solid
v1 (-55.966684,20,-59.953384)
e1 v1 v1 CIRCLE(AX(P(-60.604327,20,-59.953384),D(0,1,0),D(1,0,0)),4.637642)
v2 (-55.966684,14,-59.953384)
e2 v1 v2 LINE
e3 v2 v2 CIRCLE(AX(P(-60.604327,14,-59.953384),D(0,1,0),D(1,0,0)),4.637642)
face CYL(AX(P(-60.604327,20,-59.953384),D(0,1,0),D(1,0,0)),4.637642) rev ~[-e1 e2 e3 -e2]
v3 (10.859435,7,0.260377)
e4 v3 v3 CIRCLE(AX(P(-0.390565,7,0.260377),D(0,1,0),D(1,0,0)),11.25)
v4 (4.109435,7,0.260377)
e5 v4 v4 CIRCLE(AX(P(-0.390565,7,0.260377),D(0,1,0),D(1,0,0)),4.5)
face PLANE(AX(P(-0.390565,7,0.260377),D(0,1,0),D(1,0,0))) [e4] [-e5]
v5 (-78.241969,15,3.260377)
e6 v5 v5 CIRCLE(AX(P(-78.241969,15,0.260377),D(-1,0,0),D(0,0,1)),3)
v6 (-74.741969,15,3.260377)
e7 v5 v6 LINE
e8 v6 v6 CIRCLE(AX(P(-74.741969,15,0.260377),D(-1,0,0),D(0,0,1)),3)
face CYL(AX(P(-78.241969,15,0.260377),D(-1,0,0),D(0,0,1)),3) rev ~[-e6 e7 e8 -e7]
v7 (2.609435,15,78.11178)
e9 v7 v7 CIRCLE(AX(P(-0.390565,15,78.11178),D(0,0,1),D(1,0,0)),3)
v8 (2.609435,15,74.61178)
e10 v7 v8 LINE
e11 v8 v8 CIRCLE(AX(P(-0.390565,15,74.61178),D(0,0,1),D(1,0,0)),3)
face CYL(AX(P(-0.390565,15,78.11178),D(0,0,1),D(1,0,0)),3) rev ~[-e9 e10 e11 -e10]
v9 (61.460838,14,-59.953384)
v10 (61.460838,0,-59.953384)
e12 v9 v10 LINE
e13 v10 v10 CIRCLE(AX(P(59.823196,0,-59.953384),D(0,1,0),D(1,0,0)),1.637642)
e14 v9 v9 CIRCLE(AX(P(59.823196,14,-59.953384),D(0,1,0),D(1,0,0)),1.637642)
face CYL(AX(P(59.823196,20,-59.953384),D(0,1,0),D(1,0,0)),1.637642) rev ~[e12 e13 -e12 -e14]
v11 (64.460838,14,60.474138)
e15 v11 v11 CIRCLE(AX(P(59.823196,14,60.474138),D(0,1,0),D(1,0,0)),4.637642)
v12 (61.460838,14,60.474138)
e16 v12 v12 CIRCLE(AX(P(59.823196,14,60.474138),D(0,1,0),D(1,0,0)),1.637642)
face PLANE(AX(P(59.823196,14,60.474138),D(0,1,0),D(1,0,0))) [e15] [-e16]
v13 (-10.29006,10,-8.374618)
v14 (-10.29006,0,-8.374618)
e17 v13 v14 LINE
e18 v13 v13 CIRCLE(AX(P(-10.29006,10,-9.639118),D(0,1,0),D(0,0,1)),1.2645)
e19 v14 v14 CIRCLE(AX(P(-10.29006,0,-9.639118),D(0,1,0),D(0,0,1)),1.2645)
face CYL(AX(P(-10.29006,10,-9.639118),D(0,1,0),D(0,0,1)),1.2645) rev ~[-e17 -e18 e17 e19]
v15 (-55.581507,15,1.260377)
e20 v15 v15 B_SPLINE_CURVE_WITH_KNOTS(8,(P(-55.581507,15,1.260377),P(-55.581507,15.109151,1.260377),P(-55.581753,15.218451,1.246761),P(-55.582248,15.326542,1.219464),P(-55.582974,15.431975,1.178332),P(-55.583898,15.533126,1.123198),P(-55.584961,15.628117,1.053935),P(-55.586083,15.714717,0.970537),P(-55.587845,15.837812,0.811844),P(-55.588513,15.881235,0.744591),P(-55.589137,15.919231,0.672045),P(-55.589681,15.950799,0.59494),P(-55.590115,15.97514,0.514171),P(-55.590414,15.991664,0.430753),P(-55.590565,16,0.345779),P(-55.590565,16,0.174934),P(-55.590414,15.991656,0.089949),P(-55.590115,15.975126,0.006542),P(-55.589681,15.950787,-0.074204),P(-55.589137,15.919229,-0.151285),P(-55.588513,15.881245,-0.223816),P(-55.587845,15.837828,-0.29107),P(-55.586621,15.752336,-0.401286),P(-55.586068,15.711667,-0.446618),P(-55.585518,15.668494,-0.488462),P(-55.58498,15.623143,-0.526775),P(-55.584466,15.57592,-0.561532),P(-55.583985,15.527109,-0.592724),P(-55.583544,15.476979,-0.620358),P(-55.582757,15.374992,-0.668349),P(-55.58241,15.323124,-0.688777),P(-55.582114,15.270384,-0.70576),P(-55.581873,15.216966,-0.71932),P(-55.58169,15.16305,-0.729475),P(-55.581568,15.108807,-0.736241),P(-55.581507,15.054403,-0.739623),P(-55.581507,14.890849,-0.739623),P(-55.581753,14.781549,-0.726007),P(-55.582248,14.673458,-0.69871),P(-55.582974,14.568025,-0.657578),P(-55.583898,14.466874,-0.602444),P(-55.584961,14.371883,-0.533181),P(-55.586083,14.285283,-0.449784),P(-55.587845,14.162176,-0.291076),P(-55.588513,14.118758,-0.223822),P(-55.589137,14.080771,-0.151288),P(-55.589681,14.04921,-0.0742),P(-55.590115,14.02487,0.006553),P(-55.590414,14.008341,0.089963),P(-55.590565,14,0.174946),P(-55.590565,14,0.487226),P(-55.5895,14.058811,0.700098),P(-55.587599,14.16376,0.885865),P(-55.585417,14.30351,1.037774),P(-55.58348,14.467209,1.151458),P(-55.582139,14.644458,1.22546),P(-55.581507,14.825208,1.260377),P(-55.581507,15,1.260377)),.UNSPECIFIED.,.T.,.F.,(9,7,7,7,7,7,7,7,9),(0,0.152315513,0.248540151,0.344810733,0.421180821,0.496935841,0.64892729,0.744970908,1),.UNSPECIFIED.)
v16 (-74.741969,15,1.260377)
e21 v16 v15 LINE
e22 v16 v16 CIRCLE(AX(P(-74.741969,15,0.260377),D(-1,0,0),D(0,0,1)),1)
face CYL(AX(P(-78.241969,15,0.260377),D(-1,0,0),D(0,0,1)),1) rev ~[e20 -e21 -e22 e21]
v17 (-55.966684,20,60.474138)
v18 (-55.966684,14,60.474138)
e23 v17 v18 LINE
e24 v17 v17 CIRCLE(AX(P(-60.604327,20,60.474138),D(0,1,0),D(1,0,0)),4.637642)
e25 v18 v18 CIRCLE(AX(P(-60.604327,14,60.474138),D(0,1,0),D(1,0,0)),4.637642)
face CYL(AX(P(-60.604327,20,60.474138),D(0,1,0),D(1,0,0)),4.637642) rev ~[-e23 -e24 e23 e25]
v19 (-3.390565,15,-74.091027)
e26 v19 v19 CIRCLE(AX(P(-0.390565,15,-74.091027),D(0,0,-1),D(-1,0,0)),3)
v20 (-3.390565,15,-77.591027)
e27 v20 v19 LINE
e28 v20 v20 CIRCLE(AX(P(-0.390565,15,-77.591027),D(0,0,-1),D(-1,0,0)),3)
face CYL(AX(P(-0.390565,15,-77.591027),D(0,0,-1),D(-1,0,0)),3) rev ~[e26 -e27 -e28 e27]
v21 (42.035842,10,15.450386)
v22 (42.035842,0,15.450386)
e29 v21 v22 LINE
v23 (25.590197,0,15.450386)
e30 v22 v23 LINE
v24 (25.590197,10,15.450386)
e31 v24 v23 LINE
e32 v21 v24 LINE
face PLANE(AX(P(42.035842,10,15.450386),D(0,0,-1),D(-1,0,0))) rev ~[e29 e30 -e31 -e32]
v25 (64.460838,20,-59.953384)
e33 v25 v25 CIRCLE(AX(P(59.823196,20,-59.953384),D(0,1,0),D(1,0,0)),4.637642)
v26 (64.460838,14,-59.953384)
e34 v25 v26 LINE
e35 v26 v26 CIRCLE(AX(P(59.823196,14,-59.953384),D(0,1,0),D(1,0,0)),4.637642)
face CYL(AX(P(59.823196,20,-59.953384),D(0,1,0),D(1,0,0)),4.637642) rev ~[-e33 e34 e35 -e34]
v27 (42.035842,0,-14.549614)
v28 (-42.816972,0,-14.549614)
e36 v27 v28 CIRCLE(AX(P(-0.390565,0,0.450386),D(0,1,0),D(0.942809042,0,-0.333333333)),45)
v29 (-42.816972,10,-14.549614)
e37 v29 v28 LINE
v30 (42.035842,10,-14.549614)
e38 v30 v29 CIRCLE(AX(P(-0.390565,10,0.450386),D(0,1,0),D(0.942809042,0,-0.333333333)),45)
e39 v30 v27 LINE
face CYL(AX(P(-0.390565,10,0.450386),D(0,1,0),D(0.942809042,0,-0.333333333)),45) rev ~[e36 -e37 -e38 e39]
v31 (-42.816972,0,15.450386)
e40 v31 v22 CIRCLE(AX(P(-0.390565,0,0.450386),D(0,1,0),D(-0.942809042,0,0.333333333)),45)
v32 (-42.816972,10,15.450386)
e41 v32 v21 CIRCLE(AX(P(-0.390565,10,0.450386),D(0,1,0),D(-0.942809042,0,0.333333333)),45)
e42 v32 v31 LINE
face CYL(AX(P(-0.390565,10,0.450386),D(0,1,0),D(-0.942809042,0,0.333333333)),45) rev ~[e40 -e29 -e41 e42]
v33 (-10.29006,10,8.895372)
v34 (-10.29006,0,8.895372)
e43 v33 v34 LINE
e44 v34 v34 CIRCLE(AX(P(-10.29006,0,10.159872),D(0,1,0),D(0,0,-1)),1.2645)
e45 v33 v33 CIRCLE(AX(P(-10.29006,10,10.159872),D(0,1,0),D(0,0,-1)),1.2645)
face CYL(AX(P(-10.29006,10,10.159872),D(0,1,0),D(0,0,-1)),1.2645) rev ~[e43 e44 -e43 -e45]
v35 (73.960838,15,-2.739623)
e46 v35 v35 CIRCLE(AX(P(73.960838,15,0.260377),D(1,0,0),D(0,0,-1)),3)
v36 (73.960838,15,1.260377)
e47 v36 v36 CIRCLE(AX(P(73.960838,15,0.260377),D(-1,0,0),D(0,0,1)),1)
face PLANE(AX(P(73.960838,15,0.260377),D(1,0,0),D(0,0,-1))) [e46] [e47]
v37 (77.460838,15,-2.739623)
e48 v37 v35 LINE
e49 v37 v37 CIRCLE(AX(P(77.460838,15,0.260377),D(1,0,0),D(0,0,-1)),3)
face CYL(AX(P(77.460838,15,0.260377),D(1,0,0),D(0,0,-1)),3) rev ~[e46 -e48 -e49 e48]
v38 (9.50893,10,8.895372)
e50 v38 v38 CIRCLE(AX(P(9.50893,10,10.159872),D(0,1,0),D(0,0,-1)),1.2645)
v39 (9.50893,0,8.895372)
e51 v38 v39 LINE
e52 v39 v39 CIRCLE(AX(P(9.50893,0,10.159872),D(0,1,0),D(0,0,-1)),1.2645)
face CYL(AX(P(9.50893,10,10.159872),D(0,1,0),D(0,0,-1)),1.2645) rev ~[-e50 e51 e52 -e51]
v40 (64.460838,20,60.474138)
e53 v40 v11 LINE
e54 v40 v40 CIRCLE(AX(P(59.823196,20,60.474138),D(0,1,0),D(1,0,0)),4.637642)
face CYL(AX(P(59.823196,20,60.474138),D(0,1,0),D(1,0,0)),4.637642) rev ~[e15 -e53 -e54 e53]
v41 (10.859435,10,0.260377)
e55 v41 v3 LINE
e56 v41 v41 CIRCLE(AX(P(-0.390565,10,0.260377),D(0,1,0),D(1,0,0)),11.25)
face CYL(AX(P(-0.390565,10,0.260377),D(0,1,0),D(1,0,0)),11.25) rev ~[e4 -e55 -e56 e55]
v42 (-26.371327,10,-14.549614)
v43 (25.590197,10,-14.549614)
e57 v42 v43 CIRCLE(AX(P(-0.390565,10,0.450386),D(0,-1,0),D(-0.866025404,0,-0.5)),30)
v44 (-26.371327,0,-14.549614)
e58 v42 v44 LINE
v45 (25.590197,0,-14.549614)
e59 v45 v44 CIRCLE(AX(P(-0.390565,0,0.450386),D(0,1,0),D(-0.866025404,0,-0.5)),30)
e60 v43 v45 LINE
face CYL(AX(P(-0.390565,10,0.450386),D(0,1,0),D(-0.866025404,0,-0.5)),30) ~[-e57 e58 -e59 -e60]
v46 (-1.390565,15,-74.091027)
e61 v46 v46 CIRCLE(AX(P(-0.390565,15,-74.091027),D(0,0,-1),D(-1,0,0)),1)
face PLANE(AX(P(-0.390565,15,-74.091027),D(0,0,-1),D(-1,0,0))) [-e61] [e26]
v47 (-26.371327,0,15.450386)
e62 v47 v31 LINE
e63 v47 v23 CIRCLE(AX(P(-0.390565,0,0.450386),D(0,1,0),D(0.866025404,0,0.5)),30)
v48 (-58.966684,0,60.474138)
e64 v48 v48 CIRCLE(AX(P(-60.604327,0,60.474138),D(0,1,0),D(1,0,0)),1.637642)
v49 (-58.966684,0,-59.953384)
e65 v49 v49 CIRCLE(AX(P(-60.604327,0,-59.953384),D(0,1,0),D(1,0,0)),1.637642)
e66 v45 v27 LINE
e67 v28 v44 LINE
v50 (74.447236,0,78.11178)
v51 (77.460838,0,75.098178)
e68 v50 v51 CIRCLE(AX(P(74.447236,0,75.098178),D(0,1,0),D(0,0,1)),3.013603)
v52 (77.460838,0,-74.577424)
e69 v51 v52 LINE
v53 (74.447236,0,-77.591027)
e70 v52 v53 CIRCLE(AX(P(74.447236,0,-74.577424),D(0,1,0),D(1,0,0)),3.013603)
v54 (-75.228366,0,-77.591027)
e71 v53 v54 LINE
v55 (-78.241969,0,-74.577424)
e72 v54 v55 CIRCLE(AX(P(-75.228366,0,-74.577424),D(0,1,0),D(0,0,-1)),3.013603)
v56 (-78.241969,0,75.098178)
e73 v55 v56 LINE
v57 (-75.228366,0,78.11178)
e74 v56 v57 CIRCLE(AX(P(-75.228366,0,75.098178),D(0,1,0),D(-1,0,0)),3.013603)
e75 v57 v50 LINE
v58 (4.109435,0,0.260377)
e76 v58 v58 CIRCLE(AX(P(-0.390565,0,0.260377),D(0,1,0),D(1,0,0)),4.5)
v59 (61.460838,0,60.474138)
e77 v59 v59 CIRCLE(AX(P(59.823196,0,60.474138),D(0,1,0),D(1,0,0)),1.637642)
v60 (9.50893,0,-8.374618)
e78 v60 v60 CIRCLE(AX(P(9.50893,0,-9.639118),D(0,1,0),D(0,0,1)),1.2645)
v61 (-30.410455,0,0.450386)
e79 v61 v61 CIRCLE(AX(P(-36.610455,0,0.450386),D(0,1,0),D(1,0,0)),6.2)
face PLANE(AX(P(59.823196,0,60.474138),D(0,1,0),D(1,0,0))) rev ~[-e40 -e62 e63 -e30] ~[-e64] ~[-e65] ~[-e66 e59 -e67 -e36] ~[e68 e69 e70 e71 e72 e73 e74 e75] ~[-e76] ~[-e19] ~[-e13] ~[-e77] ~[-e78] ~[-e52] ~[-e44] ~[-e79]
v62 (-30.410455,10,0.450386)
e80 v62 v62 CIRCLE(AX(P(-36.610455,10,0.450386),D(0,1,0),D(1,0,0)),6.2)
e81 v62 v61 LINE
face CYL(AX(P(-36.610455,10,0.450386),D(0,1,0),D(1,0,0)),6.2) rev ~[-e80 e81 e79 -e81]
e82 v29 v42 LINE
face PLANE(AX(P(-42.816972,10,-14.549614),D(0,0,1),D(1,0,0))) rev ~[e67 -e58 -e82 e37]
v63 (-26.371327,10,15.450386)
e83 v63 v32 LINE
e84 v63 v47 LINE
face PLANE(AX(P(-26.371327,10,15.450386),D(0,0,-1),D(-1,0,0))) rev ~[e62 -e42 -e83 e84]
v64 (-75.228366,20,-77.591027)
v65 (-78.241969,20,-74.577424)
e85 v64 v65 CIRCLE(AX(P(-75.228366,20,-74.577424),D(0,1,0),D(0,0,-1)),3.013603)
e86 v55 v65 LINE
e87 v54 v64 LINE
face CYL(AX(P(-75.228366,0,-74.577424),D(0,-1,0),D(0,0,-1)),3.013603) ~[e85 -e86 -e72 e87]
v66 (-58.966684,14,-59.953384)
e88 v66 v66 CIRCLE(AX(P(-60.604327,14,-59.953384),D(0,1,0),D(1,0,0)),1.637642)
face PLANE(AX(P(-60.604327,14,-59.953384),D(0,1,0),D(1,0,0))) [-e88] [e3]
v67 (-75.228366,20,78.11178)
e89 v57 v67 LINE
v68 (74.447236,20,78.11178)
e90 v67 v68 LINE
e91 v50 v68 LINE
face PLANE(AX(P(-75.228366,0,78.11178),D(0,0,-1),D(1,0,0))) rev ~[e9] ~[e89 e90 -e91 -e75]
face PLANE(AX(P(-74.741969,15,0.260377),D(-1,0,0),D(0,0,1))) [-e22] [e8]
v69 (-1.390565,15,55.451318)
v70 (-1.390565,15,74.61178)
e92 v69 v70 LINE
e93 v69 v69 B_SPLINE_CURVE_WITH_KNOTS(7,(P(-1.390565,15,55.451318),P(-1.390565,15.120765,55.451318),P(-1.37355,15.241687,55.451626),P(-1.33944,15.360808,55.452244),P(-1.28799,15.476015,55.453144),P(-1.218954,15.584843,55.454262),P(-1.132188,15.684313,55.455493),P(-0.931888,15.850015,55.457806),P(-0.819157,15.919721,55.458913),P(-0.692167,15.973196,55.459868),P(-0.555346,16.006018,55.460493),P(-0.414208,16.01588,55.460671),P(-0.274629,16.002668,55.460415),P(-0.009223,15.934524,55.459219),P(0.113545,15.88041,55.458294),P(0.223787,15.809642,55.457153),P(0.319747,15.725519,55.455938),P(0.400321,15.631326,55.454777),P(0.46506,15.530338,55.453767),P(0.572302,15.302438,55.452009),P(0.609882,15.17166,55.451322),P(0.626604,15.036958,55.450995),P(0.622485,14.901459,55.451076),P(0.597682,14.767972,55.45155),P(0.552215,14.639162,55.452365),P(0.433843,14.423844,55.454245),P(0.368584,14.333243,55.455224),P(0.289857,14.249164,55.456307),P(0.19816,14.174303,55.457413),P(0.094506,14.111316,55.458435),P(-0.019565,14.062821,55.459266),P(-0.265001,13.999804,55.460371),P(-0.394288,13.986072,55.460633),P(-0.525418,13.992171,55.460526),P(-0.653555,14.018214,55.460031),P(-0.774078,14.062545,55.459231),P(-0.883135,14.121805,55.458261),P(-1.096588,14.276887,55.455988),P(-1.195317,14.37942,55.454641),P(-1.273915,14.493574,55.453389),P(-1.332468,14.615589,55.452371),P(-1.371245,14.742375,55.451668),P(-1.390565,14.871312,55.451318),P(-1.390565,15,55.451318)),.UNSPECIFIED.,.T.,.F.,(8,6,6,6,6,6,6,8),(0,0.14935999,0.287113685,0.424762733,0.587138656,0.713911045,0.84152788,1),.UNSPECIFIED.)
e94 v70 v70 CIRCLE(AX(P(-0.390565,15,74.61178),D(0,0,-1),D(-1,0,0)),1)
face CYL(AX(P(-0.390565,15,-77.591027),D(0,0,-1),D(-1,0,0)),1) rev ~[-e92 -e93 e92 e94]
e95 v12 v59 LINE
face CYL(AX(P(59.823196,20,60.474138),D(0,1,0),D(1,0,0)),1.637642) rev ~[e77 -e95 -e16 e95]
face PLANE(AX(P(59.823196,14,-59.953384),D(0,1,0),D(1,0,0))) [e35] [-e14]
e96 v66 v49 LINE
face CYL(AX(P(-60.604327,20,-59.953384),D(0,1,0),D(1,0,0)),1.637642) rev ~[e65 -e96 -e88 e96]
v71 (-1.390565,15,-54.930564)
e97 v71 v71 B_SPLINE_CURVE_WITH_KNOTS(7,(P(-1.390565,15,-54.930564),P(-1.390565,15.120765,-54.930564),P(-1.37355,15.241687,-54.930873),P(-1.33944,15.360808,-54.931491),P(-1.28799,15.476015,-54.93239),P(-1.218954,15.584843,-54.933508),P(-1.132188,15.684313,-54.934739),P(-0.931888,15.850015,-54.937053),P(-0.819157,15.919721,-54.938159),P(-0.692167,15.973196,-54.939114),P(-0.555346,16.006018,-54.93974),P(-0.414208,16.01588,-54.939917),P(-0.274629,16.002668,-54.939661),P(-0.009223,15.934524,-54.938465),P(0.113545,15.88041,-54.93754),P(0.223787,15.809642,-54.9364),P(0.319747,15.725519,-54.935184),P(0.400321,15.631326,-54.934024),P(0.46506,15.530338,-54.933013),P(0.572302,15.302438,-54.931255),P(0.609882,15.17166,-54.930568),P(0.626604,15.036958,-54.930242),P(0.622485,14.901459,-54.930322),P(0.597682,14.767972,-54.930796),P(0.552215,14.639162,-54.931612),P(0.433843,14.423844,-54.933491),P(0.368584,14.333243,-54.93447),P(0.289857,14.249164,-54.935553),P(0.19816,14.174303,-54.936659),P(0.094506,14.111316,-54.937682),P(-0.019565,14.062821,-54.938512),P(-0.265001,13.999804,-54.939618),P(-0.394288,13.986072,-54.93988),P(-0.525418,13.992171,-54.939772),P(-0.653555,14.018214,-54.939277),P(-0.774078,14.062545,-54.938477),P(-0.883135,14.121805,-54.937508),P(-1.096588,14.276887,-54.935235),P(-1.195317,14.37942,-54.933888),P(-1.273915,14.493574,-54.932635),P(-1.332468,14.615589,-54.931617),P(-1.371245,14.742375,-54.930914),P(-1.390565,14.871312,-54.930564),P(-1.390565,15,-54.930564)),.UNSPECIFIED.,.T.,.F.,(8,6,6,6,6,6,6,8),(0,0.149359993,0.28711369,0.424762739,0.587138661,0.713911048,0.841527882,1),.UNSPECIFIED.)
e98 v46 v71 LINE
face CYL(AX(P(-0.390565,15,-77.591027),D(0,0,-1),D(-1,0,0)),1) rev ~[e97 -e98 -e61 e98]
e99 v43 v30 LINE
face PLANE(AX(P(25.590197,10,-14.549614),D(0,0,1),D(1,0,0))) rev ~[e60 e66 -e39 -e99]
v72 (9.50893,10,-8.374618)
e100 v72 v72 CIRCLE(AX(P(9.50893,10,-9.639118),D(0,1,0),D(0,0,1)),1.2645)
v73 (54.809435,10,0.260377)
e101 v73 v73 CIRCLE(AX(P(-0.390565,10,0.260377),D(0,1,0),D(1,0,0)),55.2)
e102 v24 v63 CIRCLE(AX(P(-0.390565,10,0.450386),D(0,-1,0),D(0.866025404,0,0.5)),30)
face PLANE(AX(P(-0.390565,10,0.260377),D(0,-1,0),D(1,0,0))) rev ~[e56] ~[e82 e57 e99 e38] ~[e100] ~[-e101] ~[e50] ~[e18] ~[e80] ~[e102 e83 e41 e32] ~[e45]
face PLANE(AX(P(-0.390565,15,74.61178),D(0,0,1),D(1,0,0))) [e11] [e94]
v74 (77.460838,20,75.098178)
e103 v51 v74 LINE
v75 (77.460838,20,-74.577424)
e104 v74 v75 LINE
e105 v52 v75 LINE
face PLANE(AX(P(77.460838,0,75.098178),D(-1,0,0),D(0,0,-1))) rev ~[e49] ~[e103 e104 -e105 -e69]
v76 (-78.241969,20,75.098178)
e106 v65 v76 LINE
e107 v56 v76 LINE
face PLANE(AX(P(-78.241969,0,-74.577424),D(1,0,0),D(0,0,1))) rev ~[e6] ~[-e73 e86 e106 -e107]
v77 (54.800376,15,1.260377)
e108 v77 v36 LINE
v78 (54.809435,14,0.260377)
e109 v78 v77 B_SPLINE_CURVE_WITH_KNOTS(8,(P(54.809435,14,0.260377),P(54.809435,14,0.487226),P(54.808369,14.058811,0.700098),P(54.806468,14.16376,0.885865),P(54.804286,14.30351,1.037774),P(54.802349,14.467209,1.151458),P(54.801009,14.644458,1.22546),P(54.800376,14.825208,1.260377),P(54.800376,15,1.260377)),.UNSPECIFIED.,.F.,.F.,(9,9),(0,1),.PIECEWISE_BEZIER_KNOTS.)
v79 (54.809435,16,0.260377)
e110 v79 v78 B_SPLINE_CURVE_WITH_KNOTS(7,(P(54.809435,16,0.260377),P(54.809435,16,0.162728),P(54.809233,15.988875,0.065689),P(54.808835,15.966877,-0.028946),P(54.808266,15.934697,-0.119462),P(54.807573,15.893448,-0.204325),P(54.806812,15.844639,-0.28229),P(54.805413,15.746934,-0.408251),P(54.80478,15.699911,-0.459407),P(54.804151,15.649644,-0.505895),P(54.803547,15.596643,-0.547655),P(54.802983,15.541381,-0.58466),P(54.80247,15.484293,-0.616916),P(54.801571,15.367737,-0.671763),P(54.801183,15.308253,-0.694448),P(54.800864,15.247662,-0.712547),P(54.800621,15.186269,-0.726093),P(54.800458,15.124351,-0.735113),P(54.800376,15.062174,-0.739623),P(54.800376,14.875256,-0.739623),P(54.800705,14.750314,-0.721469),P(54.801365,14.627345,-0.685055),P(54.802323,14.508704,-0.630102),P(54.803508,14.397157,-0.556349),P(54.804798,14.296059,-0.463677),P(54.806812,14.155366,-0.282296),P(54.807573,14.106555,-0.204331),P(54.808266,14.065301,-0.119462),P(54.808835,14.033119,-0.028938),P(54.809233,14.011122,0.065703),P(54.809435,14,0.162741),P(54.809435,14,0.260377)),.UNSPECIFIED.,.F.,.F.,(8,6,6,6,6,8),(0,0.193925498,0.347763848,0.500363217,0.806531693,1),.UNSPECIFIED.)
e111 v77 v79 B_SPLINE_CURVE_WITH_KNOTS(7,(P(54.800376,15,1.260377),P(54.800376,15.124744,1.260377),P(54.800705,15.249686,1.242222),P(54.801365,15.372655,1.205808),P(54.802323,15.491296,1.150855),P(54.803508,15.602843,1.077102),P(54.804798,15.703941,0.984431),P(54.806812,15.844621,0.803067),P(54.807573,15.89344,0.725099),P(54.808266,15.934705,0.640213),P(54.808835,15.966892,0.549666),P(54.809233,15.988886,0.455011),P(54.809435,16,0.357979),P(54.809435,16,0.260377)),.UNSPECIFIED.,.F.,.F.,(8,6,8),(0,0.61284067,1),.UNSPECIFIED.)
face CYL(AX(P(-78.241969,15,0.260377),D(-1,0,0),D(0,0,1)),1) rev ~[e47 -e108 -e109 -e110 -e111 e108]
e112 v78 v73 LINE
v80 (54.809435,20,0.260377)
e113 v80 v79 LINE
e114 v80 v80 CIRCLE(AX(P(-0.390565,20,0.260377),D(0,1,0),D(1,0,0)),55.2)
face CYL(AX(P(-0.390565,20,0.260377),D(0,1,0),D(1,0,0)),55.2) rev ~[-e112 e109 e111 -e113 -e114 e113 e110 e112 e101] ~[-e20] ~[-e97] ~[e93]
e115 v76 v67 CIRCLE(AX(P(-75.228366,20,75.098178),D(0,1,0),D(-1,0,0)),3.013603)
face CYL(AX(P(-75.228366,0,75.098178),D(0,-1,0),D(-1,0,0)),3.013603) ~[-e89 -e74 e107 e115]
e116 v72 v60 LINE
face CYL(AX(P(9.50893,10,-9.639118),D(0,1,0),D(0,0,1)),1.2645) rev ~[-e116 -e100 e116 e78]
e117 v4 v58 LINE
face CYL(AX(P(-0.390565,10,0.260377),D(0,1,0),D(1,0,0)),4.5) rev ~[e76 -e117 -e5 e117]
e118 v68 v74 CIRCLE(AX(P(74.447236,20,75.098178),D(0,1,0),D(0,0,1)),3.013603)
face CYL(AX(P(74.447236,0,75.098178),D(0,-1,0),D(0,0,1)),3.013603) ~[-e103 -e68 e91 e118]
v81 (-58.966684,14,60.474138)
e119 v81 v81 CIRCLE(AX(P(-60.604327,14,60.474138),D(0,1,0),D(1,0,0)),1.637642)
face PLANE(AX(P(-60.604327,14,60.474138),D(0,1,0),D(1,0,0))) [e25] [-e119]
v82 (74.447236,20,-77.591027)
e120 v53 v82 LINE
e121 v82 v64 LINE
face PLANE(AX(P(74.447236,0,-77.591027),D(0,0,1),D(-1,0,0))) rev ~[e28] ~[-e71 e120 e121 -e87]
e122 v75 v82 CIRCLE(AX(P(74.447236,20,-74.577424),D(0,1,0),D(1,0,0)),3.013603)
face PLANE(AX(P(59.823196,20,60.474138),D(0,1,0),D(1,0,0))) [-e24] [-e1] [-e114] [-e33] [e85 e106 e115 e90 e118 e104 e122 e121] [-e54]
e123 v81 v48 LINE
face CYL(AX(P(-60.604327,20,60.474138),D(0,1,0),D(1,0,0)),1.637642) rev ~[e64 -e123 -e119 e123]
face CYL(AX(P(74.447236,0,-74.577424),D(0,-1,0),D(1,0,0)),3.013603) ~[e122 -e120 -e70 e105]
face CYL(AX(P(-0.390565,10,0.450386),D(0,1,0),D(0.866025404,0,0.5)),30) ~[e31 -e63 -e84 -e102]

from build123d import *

# Parameters (mm, degrees)
SKETCH1_R           = 2.637642313
SKETCH1_R_2         = 73
BOSS_EXTRUDE1_DEPTH = 20
SKETCH7_R           = 73
SKETCH7_R_2         = 52.25
BOSS_EXTRUDE2_DEPTH = 10
SKETCH8_R           = 73
BOSS_EXTRUDE3_DEPTH = 10
SKETCH9_R           = 11.25
CUT_EXTRUDE1_DEPTH  = 3
SKETCH10_R          = 4.5
CUT_EXTRUDE2_DEPTH  = 89
SKETCH11_R          = 55.2
SKETCH11_R_2        = 52.25
CUT_EXTRUDE3_DEPTH  = 10
SKETCH12_R          = 1
CUT_EXTRUDE4_DEPTH  = 224
SKETCH13_R          = 1
CUT_EXTRUDE5_DEPTH  = 224
SKETCH14_R          = 2.637642313
SKETCH14_R_2        = 1.637642313
BOSS_EXTRUDE4_DEPTH = 20
SKETCH16_R          = 4.637642313
SKETCH16_R_2        = 1.637642313
CUT_EXTRUDE7_DEPTH  = 6
CUT_EXTRUDE11_DEPTH = 15.5
SKETCH19_R          = 6.2
CUT_EXTRUDE12_DEPTH = 144
SKETCH20_R          = 3
SKETCH20_R_2        = 1
CUT_EXTRUDE13_DEPTH = 3.5
SKETCH21_R          = 3
CUT_EXTRUDE14_DEPTH = 3.5
SKETCH22_R          = 3
SKETCH22_R_2        = 1
CUT_EXTRUDE15_DEPTH = 3.5
SKETCH23_R          = 3
CUT_EXTRUDE16_DEPTH = 3.5


with BuildPart() as part:
    # Sketch1 → Boss-Extrude1 (new body)
    with BuildSketch(Plane(origin=(0, 0, 0), x_dir=(1, 0, 0), z_dir=(0, 1, 0))):
        with BuildLine():
            Line((77.460838348, -75.098177713), (77.460838348, 74.577424045))
            ThreePointArc((77.460838348, 74.577424045), (76.578174547, 76.708362964), (74.447235628, 77.591026765))
            Line((74.447235628, 77.591026765), (-75.22836613, 77.591026765))
            ThreePointArc((-75.22836613, 77.591026765), (-77.359305049, 76.708362964), (-78.24196885, 74.577424045))
            Line((-78.24196885, 74.577424045), (-78.24196885, -75.098177713))
            ThreePointArc((-78.24196885, -75.098177713), (-77.359305049, -77.229116632), (-75.22836613, -78.111780433))
            Line((-75.22836613, -78.111780433), (74.447235628, -78.111780433))
            ThreePointArc((74.447235628, -78.111780433), (76.578174547, -77.229116632), (77.460838348, -75.098177713))
        make_face()
        with Locations((-60.604326536, -60.47413812)):
            Circle(SKETCH1_R, mode=Mode.SUBTRACT)
        with Locations((-60.604326536, 59.953384452)):
            Circle(SKETCH1_R, mode=Mode.SUBTRACT)
        with Locations((59.823196035, 59.953384452)):
            Circle(SKETCH1_R, mode=Mode.SUBTRACT)
        with Locations((59.823196035, -60.47413812)):
            Circle(SKETCH1_R, mode=Mode.SUBTRACT)
        with Locations((-0.390565251, -0.260376834)):
            Circle(SKETCH1_R_2, mode=Mode.SUBTRACT)
    extrude(amount=BOSS_EXTRUDE1_DEPTH)

    # Sketch7 → Boss-Extrude2 (add)
    with BuildSketch(Plane(origin=(0, 20, 0), x_dir=(1, 0, 0), z_dir=(0, 1, 0))):
        with Locations((-0.390565251, -0.260376834)):
            Circle(SKETCH7_R)
        with Locations((-0.390565251, -0.260376834)):
            Circle(SKETCH7_R_2, mode=Mode.SUBTRACT)
    extrude(amount=-BOSS_EXTRUDE2_DEPTH)

    # Sketch8 → Boss-Extrude3 (add)
    with BuildSketch(Plane.XZ.offset(-10)):
        with Locations((-0.390565251, 0.260376834)):
            Circle(SKETCH8_R)
    extrude(amount=BOSS_EXTRUDE3_DEPTH)

    # Sketch9 → Cut-Extrude1 (cut)
    with BuildSketch(Plane(origin=(0, 10, 0), x_dir=(1, 0, 0), z_dir=(0, 1, 0))):
        with Locations((-0.390565251, -0.260376834)):
            Circle(SKETCH9_R)
    extrude(amount=-CUT_EXTRUDE1_DEPTH, mode=Mode.SUBTRACT)

    # Sketch10 → Cut-Extrude2 (cut)
    with BuildSketch(Plane(origin=(0, 10, 0), x_dir=(1, 0, 0), z_dir=(0, 1, 0))):
        with Locations((-0.390565251, -0.260376834)):
            Circle(SKETCH10_R)
        with BuildLine():
            ThreePointArc((9.508929686, -11.424371771), (10.773429686, -10.159871771), (9.508929686, -8.895371771))
            ThreePointArc((9.508929686, -8.895371771), (8.244429686, -10.159871771), (9.508929686, -11.424371771))
        make_face()
        with BuildLine():
            ThreePointArc((-10.290060188, -11.424371771), (-9.025560188, -10.159871771), (-10.290060188, -8.895371771))
            ThreePointArc((-10.290060188, -8.895371771), (-11.554560188, -10.159871771), (-10.290060188, -11.424371771))
        make_face()
        with BuildLine():
            ThreePointArc((-10.290060188, 10.903618103), (-11.554560188, 9.639118103), (-10.290060188, 8.374618103))
            ThreePointArc((-10.290060188, 8.374618103), (-9.025560188, 9.639118103), (-10.290060188, 10.903618103))
        make_face()
        with BuildLine():
            ThreePointArc((9.508929686, 10.903618103), (8.244429686, 9.639118103), (9.508929686, 8.374618103))
            ThreePointArc((9.508929686, 8.374618103), (10.773429686, 9.639118103), (9.508929686, 10.903618103))
        make_face()
    extrude(amount=-CUT_EXTRUDE2_DEPTH, mode=Mode.SUBTRACT)

    # Sketch11 → Cut-Extrude3 (cut)
    with BuildSketch(Plane(origin=(0, 20, 0), x_dir=(1, 0, 0), z_dir=(0, 1, 0))):
        with Locations((-0.390565251, -0.260376834)):
            Circle(SKETCH11_R)
        with Locations((-0.390565251, -0.260376834)):
            Circle(SKETCH11_R_2, mode=Mode.SUBTRACT)
    extrude(amount=-CUT_EXTRUDE3_DEPTH, mode=Mode.SUBTRACT)

    # Sketch12 → Cut-Extrude4 (cut)
    with BuildSketch(Plane(origin=(0, 0, -77.591026765), x_dir=(-1, 0, 0), z_dir=(0, 0, -1))):
        with Locations((0.390565251, 15)):
            Circle(SKETCH12_R)
    extrude(amount=-CUT_EXTRUDE4_DEPTH, mode=Mode.SUBTRACT)

    # Sketch13 → Cut-Extrude5 (cut)
    with BuildSketch(Plane.ZY.offset(78.24196885)):
        with Locations((0.260376834, 15)):
            Circle(SKETCH13_R)
    extrude(amount=-CUT_EXTRUDE5_DEPTH, mode=Mode.SUBTRACT)

    # Sketch14 → Boss-Extrude4 (add)
    with BuildSketch(Plane(origin=(0, 20, 0), x_dir=(1, 0, 0), z_dir=(0, 1, 0))):
        with Locations((59.823196035, -60.47413812)):
            Circle(SKETCH14_R)
        with Locations((59.823196035, -60.47413812)):
            Circle(SKETCH14_R_2, mode=Mode.SUBTRACT)
        with Locations((-60.604326536, -60.47413812)):
            Circle(SKETCH14_R)
        with Locations((-60.604326536, -60.47413812)):
            Circle(SKETCH14_R_2, mode=Mode.SUBTRACT)
        with Locations((-60.604326536, 59.953384452)):
            Circle(SKETCH14_R)
        with Locations((-60.604326536, 59.953384452)):
            Circle(SKETCH14_R_2, mode=Mode.SUBTRACT)
        with Locations((59.823196035, 59.953384452)):
            Circle(SKETCH14_R)
        with Locations((59.823196035, 59.953384452)):
            Circle(SKETCH14_R_2, mode=Mode.SUBTRACT)
    extrude(amount=-BOSS_EXTRUDE4_DEPTH)

    # Sketch16 → Cut-Extrude7 (cut)
    with BuildSketch(Plane(origin=(0, 20, 0), x_dir=(1, 0, 0), z_dir=(0, 1, 0))):
        with Locations((59.823196035, -60.47413812)):
            Circle(SKETCH16_R)
        with Locations((59.823196035, -60.47413812)):
            Circle(SKETCH16_R_2, mode=Mode.SUBTRACT)
        with Locations((-60.604326536, -60.47413812)):
            Circle(SKETCH16_R)
        with Locations((-60.604326536, -60.47413812)):
            Circle(SKETCH16_R_2, mode=Mode.SUBTRACT)
        with Locations((-60.604326536, 59.953384452)):
            Circle(SKETCH16_R)
        with Locations((-60.604326536, 59.953384452)):
            Circle(SKETCH16_R_2, mode=Mode.SUBTRACT)
        with Locations((59.823196035, 59.953384452)):
            Circle(SKETCH16_R)
        with Locations((59.823196035, 59.953384452)):
            Circle(SKETCH16_R_2, mode=Mode.SUBTRACT)
    extrude(amount=-CUT_EXTRUDE7_DEPTH, mode=Mode.SUBTRACT)

    # Sketch17 → Cut-Extrude11 (cut)
    with BuildSketch(Plane(origin=(0, 10, 0), x_dir=(1, 0, 0), z_dir=(0, 1, 0))):
        with BuildLine():
            ThreePointArc((42.03584162, 14.549614415), (-0.390565251, 44.549614415), (-42.816972122, 14.549614415))
            Line((-42.816972122, 14.549614415), (-26.371327364, 14.549614415))
            ThreePointArc((-26.371327364, 14.549614415), (-0.390565251, 29.549614415), (25.590196863, 14.549614415))
            Line((25.590196863, 14.549614415), (42.03584162, 14.549614415))
        make_face()
        with BuildLine():
            Line((-26.371327364, -15.450385585), (-42.816972122, -15.450385585))
            ThreePointArc((-42.816972122, -15.450385585), (-0.390565251, -45.450385585), (42.03584162, -15.450385585))
            Line((42.03584162, -15.450385585), (25.590196863, -15.450385585))
            ThreePointArc((25.590196863, -15.450385585), (-0.390565251, -30.450385585), (-26.371327364, -15.450385585))
        make_face()
    extrude(amount=-CUT_EXTRUDE11_DEPTH, mode=Mode.SUBTRACT)

    # Sketch19 → Cut-Extrude12 (cut)
    with BuildSketch(Plane(origin=(0, 10, 0), x_dir=(1, 0, 0), z_dir=(0, 1, 0))):
        with Locations((-36.610454512, -0.450385585)):
            Circle(SKETCH19_R)
    extrude(amount=-CUT_EXTRUDE12_DEPTH, mode=Mode.SUBTRACT)

    # Sketch20 → Cut-Extrude13 (cut)
    with BuildSketch(Plane.ZY.offset(78.24196885)):
        with Locations((0.260376834, 15)):
            Circle(SKETCH20_R)
        with Locations((0.260376834, 15)):
            Circle(SKETCH20_R_2, mode=Mode.SUBTRACT)
    extrude(amount=-CUT_EXTRUDE13_DEPTH, mode=Mode.SUBTRACT)

    # Sketch21 → Cut-Extrude14 (cut)
    with BuildSketch(Plane.XY.offset(78.111780433)):
        with Locations((-0.390565251, 15)):
            Circle(SKETCH21_R)
    extrude(amount=-CUT_EXTRUDE14_DEPTH, mode=Mode.SUBTRACT)

    # Sketch22 → Cut-Extrude15 (cut)
    with BuildSketch(Plane(origin=(77.460838348, 0, 0), x_dir=(0, 0, -1), z_dir=(1, 0, 0))):
        with Locations((-0.260376834, 15)):
            Circle(SKETCH22_R)
        with Locations((-0.260376834, 15)):
            Circle(SKETCH22_R_2, mode=Mode.SUBTRACT)
    extrude(amount=-CUT_EXTRUDE15_DEPTH, mode=Mode.SUBTRACT)

    # Sketch23 → Cut-Extrude16 (cut)
    with BuildSketch(Plane(origin=(0, 0, -77.591026765), x_dir=(-1, 0, 0), z_dir=(0, 0, -1))):
        with Locations((0.390565251, 15)):
            Circle(SKETCH23_R)
    extrude(amount=-CUT_EXTRUDE16_DEPTH, mode=Mode.SUBTRACT)


solid = part.part
